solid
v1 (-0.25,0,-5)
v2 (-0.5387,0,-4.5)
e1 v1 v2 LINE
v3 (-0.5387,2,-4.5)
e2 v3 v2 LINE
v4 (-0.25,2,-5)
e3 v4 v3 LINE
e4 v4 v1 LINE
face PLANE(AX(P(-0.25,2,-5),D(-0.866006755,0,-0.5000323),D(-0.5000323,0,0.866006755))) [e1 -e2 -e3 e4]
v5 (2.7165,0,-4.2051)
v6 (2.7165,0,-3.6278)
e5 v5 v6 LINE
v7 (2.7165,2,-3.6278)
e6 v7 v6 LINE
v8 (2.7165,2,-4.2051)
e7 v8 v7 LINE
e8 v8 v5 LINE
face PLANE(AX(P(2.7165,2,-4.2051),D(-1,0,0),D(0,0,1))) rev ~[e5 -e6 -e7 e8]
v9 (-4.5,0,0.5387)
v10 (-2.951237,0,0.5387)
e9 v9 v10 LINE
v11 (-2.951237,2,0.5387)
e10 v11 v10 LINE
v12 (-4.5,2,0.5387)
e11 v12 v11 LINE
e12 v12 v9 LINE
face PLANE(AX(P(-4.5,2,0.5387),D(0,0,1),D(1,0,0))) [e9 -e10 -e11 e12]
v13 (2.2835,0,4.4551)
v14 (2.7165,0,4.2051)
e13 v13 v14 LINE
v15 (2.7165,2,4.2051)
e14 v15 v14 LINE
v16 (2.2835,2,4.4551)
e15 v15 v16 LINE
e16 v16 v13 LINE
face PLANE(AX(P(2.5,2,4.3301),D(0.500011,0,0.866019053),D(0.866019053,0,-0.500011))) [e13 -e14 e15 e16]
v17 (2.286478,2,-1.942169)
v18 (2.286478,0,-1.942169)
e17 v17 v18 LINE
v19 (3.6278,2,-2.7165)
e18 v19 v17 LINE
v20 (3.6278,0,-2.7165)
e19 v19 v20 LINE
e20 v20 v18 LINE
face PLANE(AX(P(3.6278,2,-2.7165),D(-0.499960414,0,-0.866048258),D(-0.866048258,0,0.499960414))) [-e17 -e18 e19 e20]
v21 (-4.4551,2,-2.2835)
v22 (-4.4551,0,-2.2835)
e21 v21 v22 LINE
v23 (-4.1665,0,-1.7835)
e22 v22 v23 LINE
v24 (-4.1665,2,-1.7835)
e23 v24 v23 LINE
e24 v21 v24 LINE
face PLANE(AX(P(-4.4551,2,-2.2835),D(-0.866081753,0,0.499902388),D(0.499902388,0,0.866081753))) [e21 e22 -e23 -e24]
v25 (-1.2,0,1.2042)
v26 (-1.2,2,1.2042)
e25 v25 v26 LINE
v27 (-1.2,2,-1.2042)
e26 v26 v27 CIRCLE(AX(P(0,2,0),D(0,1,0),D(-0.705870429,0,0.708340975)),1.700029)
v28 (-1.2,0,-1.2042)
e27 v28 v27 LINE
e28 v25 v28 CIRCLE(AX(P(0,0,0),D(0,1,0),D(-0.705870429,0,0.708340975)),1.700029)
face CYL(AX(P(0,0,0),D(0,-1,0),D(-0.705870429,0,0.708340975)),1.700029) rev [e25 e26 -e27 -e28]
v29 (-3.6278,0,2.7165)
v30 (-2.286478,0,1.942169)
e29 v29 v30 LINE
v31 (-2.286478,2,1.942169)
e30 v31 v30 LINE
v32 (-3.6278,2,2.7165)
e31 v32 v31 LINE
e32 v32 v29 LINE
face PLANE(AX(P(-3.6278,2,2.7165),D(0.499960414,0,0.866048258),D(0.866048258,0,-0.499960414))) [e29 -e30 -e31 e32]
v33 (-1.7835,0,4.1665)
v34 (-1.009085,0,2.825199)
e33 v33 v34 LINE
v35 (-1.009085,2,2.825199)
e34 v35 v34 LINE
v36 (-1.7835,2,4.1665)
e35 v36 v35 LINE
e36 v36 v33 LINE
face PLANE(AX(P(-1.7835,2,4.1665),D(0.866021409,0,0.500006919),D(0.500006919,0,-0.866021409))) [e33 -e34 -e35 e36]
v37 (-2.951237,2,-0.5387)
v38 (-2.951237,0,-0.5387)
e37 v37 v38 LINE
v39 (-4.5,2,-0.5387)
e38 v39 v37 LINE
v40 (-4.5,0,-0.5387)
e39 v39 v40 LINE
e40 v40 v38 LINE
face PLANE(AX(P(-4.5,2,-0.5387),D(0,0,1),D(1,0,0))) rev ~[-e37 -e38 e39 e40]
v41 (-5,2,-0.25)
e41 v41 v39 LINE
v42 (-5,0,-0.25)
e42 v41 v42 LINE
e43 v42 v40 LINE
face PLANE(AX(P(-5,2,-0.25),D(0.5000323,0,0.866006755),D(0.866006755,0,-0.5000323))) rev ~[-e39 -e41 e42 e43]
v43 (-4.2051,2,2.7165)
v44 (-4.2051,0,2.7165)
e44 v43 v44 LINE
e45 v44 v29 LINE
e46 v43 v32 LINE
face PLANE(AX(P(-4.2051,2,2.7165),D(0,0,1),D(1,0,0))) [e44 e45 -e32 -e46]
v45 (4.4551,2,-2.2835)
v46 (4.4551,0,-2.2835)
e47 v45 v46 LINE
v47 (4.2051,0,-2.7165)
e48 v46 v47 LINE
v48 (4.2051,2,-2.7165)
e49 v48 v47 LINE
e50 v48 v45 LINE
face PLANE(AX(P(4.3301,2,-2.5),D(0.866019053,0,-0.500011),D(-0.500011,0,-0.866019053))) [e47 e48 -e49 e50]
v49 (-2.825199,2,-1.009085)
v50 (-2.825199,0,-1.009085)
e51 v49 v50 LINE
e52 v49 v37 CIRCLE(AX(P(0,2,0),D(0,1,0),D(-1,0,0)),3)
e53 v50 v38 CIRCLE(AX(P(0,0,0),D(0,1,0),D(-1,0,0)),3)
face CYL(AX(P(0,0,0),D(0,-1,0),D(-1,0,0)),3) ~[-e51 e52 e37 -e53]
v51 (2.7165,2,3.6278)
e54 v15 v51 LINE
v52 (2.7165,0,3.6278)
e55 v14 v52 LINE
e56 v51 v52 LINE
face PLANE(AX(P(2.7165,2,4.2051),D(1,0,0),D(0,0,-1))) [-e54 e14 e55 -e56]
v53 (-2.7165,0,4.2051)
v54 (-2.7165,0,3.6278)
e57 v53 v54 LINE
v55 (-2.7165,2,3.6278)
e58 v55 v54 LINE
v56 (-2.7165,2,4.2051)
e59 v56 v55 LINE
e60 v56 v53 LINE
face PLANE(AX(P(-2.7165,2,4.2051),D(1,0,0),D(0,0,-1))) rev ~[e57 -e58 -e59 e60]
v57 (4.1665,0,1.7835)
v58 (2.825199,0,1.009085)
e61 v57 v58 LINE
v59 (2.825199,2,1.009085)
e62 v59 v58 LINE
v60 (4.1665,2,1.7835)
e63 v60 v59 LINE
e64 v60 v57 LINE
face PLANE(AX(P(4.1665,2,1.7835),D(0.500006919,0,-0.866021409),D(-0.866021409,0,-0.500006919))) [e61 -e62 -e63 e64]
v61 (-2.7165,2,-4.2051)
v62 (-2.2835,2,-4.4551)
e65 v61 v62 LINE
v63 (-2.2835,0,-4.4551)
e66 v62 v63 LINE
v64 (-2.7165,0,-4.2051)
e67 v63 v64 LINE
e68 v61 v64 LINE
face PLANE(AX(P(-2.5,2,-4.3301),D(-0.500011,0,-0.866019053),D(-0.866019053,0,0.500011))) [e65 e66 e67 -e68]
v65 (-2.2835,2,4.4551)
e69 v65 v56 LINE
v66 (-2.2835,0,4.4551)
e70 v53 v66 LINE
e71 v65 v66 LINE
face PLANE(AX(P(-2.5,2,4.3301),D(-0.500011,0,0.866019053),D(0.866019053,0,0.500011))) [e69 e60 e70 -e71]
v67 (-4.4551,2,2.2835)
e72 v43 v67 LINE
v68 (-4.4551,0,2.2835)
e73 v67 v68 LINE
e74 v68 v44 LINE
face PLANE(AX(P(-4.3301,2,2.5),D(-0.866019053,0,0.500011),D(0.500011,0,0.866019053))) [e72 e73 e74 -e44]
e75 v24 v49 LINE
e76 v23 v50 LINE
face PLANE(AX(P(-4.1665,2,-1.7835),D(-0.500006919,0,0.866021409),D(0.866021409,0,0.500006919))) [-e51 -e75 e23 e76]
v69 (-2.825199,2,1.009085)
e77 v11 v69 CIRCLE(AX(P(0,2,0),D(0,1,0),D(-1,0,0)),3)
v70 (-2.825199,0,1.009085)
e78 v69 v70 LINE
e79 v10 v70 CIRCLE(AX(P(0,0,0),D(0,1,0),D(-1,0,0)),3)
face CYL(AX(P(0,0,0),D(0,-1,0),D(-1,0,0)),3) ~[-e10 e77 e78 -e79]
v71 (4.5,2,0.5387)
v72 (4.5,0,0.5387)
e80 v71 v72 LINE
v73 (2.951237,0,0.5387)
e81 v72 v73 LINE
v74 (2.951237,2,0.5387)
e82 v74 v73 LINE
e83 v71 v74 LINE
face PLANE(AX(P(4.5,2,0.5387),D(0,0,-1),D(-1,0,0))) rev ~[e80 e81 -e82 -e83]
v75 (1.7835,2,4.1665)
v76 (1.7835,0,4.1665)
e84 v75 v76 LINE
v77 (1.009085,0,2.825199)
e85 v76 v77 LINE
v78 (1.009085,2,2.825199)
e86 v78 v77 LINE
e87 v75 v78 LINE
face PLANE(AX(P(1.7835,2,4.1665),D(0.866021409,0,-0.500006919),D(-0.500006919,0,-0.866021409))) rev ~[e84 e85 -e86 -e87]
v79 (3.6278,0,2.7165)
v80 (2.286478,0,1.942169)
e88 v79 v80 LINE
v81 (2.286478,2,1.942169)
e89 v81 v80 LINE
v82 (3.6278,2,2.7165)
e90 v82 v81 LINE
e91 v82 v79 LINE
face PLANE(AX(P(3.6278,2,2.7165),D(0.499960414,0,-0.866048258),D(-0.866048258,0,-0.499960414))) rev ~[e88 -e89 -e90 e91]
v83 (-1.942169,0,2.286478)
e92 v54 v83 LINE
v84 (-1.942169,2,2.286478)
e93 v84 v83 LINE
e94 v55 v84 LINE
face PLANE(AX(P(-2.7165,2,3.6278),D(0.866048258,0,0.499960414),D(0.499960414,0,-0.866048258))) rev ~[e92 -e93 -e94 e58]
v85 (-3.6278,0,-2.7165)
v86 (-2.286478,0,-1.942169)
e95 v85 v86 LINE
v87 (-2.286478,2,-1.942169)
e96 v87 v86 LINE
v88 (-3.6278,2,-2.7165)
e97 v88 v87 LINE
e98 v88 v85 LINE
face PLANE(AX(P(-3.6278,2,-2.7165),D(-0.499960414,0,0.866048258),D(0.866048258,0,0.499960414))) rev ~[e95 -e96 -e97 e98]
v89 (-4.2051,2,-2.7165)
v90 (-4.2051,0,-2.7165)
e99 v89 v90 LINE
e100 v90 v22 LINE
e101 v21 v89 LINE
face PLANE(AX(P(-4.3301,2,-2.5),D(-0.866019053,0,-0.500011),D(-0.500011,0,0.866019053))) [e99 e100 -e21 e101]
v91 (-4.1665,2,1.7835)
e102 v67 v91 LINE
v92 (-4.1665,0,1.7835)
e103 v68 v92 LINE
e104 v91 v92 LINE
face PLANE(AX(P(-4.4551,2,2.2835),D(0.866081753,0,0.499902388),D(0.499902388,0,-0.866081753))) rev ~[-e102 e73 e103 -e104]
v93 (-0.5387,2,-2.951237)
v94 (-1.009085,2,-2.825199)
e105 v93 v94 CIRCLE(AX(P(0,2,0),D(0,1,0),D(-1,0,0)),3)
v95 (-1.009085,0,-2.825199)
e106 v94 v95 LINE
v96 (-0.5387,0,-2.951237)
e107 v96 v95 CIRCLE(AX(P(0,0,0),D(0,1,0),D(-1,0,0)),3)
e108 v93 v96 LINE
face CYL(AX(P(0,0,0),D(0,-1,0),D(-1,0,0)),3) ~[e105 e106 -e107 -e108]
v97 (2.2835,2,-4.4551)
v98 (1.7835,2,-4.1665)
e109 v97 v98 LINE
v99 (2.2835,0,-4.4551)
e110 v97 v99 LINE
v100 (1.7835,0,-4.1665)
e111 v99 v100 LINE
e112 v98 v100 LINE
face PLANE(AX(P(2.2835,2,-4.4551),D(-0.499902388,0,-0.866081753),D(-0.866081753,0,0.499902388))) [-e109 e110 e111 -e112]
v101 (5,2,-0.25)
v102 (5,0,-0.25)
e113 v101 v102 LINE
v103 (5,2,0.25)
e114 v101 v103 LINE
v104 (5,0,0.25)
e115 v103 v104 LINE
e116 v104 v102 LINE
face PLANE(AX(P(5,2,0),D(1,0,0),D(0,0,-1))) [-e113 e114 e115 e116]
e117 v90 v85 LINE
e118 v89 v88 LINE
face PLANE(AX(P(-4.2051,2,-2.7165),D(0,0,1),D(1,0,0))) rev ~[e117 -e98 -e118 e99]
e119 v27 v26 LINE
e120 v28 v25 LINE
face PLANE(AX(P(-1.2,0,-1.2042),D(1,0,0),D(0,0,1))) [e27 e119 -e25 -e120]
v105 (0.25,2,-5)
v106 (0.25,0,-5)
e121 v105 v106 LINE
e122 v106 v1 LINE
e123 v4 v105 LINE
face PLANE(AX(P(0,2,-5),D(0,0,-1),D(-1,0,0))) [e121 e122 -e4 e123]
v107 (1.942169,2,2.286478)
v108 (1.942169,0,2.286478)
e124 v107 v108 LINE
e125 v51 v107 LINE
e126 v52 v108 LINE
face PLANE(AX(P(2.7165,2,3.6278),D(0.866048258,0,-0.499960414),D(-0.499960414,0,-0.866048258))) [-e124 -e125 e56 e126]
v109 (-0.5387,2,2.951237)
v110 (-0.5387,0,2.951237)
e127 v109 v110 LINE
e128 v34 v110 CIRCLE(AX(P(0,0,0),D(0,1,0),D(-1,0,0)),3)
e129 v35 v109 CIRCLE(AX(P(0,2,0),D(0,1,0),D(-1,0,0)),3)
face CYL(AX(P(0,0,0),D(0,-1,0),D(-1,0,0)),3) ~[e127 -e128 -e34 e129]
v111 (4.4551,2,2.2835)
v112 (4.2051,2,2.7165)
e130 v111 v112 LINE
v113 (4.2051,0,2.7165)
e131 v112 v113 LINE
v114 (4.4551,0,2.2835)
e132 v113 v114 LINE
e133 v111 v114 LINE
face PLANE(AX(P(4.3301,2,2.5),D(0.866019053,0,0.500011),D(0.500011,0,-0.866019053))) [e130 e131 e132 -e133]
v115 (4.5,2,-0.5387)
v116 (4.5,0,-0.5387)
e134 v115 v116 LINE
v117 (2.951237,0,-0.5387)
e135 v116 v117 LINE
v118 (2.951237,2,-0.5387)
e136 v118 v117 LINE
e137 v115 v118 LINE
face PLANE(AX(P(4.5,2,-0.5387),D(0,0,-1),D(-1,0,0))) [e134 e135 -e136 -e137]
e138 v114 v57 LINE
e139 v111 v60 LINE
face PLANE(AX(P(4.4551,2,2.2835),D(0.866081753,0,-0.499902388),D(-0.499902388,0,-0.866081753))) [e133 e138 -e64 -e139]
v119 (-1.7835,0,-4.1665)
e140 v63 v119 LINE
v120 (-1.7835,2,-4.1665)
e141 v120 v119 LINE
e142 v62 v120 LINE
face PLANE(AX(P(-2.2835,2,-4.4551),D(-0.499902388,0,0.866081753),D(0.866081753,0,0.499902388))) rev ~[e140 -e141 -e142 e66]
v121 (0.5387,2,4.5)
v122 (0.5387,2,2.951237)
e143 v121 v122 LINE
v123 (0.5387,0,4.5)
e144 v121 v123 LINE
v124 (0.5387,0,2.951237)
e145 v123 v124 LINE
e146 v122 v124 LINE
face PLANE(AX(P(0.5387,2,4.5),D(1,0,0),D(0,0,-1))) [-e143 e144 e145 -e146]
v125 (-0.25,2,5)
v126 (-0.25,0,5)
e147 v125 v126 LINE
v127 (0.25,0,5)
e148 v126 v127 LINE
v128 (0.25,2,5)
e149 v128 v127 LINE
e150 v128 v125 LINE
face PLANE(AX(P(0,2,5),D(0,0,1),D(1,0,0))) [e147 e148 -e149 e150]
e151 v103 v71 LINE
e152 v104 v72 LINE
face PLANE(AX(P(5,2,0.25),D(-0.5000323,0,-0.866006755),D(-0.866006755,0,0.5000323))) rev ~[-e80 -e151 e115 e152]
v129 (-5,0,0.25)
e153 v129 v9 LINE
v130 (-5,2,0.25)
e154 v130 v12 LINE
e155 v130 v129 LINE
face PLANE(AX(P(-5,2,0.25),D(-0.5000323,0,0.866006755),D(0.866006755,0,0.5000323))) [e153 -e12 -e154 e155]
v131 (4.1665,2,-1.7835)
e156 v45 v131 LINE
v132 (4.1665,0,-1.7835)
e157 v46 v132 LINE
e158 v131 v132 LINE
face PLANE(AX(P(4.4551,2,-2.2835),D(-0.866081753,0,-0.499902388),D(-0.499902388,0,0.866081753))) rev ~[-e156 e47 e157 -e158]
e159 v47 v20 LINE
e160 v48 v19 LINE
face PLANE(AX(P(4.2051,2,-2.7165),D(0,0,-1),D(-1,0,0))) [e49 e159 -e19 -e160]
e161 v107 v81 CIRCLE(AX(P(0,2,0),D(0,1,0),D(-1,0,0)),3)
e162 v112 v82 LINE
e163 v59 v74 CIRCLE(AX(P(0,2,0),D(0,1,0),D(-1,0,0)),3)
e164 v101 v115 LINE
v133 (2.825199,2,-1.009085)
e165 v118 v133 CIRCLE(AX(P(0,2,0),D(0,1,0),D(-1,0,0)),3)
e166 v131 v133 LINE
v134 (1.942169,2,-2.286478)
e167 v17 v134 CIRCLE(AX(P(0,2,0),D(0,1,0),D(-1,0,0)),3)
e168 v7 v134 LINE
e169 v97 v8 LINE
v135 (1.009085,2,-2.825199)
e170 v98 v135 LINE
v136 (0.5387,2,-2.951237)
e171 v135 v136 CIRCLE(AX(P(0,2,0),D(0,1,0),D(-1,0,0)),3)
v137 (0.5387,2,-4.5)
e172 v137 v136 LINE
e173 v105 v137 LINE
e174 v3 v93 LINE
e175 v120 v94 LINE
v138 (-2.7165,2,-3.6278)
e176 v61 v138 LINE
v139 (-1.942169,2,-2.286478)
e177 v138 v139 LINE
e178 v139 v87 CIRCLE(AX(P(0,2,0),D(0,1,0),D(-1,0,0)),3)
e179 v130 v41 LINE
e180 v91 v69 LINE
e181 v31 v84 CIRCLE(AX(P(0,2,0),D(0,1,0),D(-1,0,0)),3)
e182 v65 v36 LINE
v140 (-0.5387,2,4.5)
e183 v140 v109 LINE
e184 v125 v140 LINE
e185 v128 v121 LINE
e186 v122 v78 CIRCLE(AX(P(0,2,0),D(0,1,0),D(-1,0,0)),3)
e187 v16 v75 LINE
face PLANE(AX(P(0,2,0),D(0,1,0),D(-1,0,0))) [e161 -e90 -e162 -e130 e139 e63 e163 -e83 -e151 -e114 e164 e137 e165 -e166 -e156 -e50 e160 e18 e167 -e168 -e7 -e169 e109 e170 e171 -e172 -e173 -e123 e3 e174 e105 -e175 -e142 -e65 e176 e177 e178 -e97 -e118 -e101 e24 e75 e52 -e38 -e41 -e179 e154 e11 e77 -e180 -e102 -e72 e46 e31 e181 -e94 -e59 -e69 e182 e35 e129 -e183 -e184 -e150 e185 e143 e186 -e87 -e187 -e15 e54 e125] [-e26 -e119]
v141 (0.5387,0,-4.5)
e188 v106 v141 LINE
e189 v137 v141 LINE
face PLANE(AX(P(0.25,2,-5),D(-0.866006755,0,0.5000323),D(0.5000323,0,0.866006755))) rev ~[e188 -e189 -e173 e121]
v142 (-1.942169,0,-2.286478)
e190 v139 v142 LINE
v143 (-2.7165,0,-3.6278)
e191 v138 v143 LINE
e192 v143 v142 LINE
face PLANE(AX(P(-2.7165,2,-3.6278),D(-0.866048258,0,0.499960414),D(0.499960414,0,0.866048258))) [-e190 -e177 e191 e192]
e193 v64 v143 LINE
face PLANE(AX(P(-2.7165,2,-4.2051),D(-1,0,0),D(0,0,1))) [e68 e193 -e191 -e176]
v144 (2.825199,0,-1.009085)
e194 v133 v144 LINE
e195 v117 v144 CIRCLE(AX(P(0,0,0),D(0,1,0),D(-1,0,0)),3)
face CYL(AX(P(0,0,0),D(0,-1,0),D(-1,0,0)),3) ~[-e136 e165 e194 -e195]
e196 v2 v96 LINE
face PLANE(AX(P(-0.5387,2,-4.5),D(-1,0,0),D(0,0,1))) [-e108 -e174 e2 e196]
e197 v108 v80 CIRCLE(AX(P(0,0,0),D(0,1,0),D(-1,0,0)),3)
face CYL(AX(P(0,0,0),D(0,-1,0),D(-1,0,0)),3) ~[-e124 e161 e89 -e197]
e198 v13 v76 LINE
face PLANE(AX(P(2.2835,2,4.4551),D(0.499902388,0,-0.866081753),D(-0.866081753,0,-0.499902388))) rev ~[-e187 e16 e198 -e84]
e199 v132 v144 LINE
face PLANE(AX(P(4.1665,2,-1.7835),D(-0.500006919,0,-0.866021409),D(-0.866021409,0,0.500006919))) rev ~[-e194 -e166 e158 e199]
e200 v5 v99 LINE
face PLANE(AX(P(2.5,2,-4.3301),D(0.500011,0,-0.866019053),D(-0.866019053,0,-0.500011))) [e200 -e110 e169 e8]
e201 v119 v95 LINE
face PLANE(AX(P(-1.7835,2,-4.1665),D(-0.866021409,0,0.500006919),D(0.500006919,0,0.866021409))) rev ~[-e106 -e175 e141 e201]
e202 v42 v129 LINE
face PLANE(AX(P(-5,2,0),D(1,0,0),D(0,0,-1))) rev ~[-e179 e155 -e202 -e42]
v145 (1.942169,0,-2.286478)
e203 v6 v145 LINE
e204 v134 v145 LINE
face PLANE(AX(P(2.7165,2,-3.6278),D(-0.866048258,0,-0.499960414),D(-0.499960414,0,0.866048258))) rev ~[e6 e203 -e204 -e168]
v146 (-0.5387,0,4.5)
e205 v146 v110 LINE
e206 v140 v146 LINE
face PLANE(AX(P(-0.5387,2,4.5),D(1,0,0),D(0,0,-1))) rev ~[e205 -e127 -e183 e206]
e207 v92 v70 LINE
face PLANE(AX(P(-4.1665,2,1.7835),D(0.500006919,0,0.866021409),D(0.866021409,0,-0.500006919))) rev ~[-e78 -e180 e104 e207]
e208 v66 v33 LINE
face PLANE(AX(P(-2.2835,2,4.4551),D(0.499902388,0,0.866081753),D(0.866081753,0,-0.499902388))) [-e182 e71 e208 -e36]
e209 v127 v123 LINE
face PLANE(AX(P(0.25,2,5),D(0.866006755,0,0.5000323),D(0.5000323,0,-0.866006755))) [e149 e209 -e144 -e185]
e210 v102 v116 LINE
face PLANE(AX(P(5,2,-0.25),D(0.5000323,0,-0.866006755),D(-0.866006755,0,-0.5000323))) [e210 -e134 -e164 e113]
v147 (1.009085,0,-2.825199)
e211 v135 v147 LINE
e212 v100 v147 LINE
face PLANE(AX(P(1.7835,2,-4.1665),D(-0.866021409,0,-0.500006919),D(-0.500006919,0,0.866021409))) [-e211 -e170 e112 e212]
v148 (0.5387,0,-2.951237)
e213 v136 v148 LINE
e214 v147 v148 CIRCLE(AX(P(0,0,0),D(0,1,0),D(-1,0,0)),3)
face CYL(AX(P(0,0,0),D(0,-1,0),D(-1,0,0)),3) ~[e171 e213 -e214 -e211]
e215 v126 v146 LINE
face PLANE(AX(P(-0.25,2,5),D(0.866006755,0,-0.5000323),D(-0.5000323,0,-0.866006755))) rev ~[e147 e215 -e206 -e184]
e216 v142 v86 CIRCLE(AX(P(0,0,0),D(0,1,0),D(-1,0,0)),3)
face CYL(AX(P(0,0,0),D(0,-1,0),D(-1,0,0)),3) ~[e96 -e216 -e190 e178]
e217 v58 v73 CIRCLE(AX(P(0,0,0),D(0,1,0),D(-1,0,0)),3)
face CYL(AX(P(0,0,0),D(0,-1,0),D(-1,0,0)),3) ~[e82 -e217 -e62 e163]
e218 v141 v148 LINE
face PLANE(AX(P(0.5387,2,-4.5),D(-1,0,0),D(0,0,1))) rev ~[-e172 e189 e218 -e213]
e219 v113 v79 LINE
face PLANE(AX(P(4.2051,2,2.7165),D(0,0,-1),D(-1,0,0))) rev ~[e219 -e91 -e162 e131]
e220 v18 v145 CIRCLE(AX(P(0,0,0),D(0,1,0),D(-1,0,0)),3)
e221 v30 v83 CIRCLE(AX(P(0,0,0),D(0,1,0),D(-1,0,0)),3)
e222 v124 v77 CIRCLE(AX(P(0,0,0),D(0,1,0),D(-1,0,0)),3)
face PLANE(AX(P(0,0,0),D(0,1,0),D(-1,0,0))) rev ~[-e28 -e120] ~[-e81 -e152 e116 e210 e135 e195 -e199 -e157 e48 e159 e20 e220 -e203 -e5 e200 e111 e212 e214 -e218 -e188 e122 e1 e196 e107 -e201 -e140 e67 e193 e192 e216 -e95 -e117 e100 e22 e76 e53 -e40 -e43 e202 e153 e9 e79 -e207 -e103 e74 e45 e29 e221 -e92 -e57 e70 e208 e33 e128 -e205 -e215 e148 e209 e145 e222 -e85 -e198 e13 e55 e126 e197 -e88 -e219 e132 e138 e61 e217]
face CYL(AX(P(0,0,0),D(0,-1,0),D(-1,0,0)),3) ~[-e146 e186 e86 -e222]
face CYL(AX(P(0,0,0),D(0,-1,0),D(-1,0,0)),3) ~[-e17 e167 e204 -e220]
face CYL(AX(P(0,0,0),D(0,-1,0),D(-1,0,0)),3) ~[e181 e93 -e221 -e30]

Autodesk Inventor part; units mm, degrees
ref_plane "YZ Plane" through (0, 0, 0) normal (1, 0, 0) x (0, 1, 0)
ref_plane "XZ Plane" through (0, 0, 0) normal (0, 1, 0) x (-1, 0, 0)
ref_plane "XY Plane" through (0, 0, 0) normal (0, 0, 1) x (1, 0, 0)
sketch "Esboço1" plane through (0, 0, 0) normal (0, 1, 0) x (-1, 0, 0)
  arc A0 (1, 1.118) -> (1, -1.118) centre (0, 0) ccw construction
  line L0 (1, 1.118) -> (1, -1.118) construction
  line L1 (0, 0) -> (-1.5, 0) construction
  line L2 (1.2, -1.2042) -> (1.2, 1.2042)
  arc A1 (1.2, 1.2042) -> (1.2, -1.2042) centre (0, 0) ccw
  circle A2 centre (0, 0) radius 3
  point P0 (1, 0)
  dimension "d0" = 3
  dimension "d1" = 2.5
  dimension "d2" = 0.2
  dimension "d3" = 6
extrude "Extrusão1" add sketch "Esboço1" along normal blind 2
sketch "Esboço2" plane through (0, 2, 0) normal (0, 1, 0) x (1, 0, 0)
  line L0 (0, 0) -> (-5, 0) construction
  line L1 (-5, 0) -> (-5, 0.25)
  line L2 (-5, 0.25) -> (-4.5, 0.5387)
  line L3 (-4.5, 0.5387) -> (-2.8873, 0.5387)
  line L4 (-5, 0) -> (-5, -0.25)
  line L5 (-5, -0.25) -> (-4.5, -0.5387)
  line L6 (-4.5, -0.5387) -> (-2.8873, -0.5387)
  line L7 (-4.3301, -2.5) -> (-4.4551, -2.2835)
  line L8 (-4.4551, -2.2835) -> (-4.1665, -1.7835)
  line L9 (-4.1665, -1.7835) -> (-2.7698, -0.9771)
  line L10 (-4.3301, -2.5) -> (-4.2051, -2.7165)
  line L11 (-4.2051, -2.7165) -> (-3.6278, -2.7165)
  line L12 (-3.6278, -2.7165) -> (-2.2311, -1.9102)
  line L13 (-2.5, -4.3301) -> (-2.7165, -4.2051)
  line L14 (-2.7165, -4.2051) -> (-2.7165, -3.6278)
  line L15 (-2.7165, -3.6278) -> (-1.9102, -2.2311)
  line L16 (-2.5, -4.3301) -> (-2.2835, -4.4551)
  line L17 (-2.2835, -4.4551) -> (-1.7835, -4.1665)
  line L18 (-1.7835, -4.1665) -> (-0.9771, -2.7698)
  line L19 (0, -5) -> (-0.25, -5)
  line L20 (-0.25, -5) -> (-0.5387, -4.5)
  line L21 (-0.5387, -4.5) -> (-0.5387, -2.8873)
  line L22 (0, -5) -> (0.25, -5)
  line L23 (0.25, -5) -> (0.5387, -4.5)
  line L24 (0.5387, -4.5) -> (0.5387, -2.8873)
  line L25 (2.5, -4.3301) -> (2.2835, -4.4551)
  line L26 (2.2835, -4.4551) -> (1.7835, -4.1665)
  line L27 (1.7835, -4.1665) -> (0.9771, -2.7698)
  line L28 (2.5, -4.3301) -> (2.7165, -4.2051)
  line L29 (2.7165, -4.2051) -> (2.7165, -3.6278)
  line L30 (2.7165, -3.6278) -> (1.9102, -2.2311)
  line L31 (4.3301, -2.5) -> (4.2051, -2.7165)
  line L32 (4.2051, -2.7165) -> (3.6278, -2.7165)
  line L33 (3.6278, -2.7165) -> (2.2311, -1.9102)
  line L34 (4.3301, -2.5) -> (4.4551, -2.2835)
  line L35 (4.4551, -2.2835) -> (4.1665, -1.7835)
  line L36 (4.1665, -1.7835) -> (2.7698, -0.9771)
  line L37 (5, 0) -> (5, -0.25)
  line L38 (5, -0.25) -> (4.5, -0.5387)
  line L39 (4.5, -0.5387) -> (2.8873, -0.5387)
  line L40 (5, 0) -> (5, 0.25)
  line L41 (5, 0.25) -> (4.5, 0.5387)
  line L42 (4.5, 0.5387) -> (2.8873, 0.5387)
  line L43 (4.3301, 2.5) -> (4.4551, 2.2835)
  line L44 (4.4551, 2.2835) -> (4.1665, 1.7835)
  line L45 (4.1665, 1.7835) -> (2.7698, 0.9771)
  line L46 (4.3301, 2.5) -> (4.2051, 2.7165)
  line L47 (4.2051, 2.7165) -> (3.6278, 2.7165)
  line L48 (3.6278, 2.7165) -> (2.2311, 1.9102)
  line L49 (2.5, 4.3301) -> (2.7165, 4.2051)
  line L50 (2.7165, 4.2051) -> (2.7165, 3.6278)
  line L51 (2.7165, 3.6278) -> (1.9102, 2.2311)
  line L52 (2.5, 4.3301) -> (2.2835, 4.4551)
  line L53 (2.2835, 4.4551) -> (1.7835, 4.1665)
  line L54 (1.7835, 4.1665) -> (0.9771, 2.7698)
  line L55 (0, 5) -> (0.25, 5)
  line L56 (0.25, 5) -> (0.5387, 4.5)
  line L57 (0.5387, 4.5) -> (0.5387, 2.8873)
  line L58 (0, 5) -> (-0.25, 5)
  line L59 (-0.25, 5) -> (-0.5387, 4.5)
  line L60 (-0.5387, 4.5) -> (-0.5387, 2.8873)
  line L61 (-2.5, 4.3301) -> (-2.2835, 4.4551)
  line L62 (-2.2835, 4.4551) -> (-1.7835, 4.1665)
  line L63 (-1.7835, 4.1665) -> (-0.9771, 2.7698)
  line L64 (-2.5, 4.3301) -> (-2.7165, 4.2051)
  line L65 (-2.7165, 4.2051) -> (-2.7165, 3.6278)
  line L66 (-2.7165, 3.6278) -> (-1.9102, 2.2311)
  line L67 (-4.3301, 2.5) -> (-4.2051, 2.7165)
  line L68 (-4.2051, 2.7165) -> (-3.6278, 2.7165)
  line L69 (-3.6278, 2.7165) -> (-2.2311, 1.9102)
  line L70 (-4.3301, 2.5) -> (-4.4551, 2.2835)
  line L71 (-4.4551, 2.2835) -> (-4.1665, 1.7835)
  line L72 (-4.1665, 1.7835) -> (-2.7698, 0.9771)
  circle A0 centre (0, 0) radius 3
  point P0 (-1.0091, -2.8252)
  point P1 (-1.9421, -2.2865)
  point P2 (-2.2865, -1.9421)
  point P3 (-2.8252, -1.0091)
  point P4 (-2.9512, -0.5387)
  point P5 (-2.9512, 0.5387)
  point P6 (-2.8252, 1.0091)
  point P7 (-2.2865, 1.9421)
  point P8 (-1.9421, 2.2865)
  point P9 (-1.0091, 2.8252)
  point P10 (-0.5387, 2.9512)
  point P11 (0.5387, 2.9512)
  point P12 (1.0091, 2.8252)
  point P13 (1.9421, 2.2865)
  point P14 (2.2865, 1.9421)
  point P15 (2.8252, 1.0091)
  point P16 (2.9512, 0.5387)
  point P17 (2.9512, -0.5387)
  point P18 (2.8252, -1.0091)
  point P19 (2.2865, -1.9421)
  point P20 (1.9421, -2.2865)
  point P21 (1.0091, -2.8252)
  point P22 (0.5387, -2.9512)
  point P23 (-0.5387, -2.9512)
  dimension "d15" = 6
  dimension "d6" = 5
  dimension "d7" = 0.25
  dimension "d9" = 60
  dimension "d10" = 0.5
  dimension "d13" = 360
extrude "Extrusão2" add sketch "Esboço2" against normal blind 2 contours L1 L2 L3 A0 L6 L5 L4 | L72 L71 L70 L67 L68 L69 A0 | A0 L12 L11 L10 L7 L8 L9 | L66 L65 L64 L61 L62 L63 A0 | A0 L18 L17 L16 L13 L14 L15 | L60 L59 L58 L55 L56 L57 A0 | A0 L24 L23 L22 L19 L20 L21 | L54 L53 L52 L49 L50 L51 A0 | A0 L30 L29 L28 L25 L26 L27 | L48 L47 L46 L43 L44 L45 A0 | A0 L36 L35 L34 L31 L32 L33 | L42 L41 L40 L37 L38 L39 A0
properties part number "Gear"
